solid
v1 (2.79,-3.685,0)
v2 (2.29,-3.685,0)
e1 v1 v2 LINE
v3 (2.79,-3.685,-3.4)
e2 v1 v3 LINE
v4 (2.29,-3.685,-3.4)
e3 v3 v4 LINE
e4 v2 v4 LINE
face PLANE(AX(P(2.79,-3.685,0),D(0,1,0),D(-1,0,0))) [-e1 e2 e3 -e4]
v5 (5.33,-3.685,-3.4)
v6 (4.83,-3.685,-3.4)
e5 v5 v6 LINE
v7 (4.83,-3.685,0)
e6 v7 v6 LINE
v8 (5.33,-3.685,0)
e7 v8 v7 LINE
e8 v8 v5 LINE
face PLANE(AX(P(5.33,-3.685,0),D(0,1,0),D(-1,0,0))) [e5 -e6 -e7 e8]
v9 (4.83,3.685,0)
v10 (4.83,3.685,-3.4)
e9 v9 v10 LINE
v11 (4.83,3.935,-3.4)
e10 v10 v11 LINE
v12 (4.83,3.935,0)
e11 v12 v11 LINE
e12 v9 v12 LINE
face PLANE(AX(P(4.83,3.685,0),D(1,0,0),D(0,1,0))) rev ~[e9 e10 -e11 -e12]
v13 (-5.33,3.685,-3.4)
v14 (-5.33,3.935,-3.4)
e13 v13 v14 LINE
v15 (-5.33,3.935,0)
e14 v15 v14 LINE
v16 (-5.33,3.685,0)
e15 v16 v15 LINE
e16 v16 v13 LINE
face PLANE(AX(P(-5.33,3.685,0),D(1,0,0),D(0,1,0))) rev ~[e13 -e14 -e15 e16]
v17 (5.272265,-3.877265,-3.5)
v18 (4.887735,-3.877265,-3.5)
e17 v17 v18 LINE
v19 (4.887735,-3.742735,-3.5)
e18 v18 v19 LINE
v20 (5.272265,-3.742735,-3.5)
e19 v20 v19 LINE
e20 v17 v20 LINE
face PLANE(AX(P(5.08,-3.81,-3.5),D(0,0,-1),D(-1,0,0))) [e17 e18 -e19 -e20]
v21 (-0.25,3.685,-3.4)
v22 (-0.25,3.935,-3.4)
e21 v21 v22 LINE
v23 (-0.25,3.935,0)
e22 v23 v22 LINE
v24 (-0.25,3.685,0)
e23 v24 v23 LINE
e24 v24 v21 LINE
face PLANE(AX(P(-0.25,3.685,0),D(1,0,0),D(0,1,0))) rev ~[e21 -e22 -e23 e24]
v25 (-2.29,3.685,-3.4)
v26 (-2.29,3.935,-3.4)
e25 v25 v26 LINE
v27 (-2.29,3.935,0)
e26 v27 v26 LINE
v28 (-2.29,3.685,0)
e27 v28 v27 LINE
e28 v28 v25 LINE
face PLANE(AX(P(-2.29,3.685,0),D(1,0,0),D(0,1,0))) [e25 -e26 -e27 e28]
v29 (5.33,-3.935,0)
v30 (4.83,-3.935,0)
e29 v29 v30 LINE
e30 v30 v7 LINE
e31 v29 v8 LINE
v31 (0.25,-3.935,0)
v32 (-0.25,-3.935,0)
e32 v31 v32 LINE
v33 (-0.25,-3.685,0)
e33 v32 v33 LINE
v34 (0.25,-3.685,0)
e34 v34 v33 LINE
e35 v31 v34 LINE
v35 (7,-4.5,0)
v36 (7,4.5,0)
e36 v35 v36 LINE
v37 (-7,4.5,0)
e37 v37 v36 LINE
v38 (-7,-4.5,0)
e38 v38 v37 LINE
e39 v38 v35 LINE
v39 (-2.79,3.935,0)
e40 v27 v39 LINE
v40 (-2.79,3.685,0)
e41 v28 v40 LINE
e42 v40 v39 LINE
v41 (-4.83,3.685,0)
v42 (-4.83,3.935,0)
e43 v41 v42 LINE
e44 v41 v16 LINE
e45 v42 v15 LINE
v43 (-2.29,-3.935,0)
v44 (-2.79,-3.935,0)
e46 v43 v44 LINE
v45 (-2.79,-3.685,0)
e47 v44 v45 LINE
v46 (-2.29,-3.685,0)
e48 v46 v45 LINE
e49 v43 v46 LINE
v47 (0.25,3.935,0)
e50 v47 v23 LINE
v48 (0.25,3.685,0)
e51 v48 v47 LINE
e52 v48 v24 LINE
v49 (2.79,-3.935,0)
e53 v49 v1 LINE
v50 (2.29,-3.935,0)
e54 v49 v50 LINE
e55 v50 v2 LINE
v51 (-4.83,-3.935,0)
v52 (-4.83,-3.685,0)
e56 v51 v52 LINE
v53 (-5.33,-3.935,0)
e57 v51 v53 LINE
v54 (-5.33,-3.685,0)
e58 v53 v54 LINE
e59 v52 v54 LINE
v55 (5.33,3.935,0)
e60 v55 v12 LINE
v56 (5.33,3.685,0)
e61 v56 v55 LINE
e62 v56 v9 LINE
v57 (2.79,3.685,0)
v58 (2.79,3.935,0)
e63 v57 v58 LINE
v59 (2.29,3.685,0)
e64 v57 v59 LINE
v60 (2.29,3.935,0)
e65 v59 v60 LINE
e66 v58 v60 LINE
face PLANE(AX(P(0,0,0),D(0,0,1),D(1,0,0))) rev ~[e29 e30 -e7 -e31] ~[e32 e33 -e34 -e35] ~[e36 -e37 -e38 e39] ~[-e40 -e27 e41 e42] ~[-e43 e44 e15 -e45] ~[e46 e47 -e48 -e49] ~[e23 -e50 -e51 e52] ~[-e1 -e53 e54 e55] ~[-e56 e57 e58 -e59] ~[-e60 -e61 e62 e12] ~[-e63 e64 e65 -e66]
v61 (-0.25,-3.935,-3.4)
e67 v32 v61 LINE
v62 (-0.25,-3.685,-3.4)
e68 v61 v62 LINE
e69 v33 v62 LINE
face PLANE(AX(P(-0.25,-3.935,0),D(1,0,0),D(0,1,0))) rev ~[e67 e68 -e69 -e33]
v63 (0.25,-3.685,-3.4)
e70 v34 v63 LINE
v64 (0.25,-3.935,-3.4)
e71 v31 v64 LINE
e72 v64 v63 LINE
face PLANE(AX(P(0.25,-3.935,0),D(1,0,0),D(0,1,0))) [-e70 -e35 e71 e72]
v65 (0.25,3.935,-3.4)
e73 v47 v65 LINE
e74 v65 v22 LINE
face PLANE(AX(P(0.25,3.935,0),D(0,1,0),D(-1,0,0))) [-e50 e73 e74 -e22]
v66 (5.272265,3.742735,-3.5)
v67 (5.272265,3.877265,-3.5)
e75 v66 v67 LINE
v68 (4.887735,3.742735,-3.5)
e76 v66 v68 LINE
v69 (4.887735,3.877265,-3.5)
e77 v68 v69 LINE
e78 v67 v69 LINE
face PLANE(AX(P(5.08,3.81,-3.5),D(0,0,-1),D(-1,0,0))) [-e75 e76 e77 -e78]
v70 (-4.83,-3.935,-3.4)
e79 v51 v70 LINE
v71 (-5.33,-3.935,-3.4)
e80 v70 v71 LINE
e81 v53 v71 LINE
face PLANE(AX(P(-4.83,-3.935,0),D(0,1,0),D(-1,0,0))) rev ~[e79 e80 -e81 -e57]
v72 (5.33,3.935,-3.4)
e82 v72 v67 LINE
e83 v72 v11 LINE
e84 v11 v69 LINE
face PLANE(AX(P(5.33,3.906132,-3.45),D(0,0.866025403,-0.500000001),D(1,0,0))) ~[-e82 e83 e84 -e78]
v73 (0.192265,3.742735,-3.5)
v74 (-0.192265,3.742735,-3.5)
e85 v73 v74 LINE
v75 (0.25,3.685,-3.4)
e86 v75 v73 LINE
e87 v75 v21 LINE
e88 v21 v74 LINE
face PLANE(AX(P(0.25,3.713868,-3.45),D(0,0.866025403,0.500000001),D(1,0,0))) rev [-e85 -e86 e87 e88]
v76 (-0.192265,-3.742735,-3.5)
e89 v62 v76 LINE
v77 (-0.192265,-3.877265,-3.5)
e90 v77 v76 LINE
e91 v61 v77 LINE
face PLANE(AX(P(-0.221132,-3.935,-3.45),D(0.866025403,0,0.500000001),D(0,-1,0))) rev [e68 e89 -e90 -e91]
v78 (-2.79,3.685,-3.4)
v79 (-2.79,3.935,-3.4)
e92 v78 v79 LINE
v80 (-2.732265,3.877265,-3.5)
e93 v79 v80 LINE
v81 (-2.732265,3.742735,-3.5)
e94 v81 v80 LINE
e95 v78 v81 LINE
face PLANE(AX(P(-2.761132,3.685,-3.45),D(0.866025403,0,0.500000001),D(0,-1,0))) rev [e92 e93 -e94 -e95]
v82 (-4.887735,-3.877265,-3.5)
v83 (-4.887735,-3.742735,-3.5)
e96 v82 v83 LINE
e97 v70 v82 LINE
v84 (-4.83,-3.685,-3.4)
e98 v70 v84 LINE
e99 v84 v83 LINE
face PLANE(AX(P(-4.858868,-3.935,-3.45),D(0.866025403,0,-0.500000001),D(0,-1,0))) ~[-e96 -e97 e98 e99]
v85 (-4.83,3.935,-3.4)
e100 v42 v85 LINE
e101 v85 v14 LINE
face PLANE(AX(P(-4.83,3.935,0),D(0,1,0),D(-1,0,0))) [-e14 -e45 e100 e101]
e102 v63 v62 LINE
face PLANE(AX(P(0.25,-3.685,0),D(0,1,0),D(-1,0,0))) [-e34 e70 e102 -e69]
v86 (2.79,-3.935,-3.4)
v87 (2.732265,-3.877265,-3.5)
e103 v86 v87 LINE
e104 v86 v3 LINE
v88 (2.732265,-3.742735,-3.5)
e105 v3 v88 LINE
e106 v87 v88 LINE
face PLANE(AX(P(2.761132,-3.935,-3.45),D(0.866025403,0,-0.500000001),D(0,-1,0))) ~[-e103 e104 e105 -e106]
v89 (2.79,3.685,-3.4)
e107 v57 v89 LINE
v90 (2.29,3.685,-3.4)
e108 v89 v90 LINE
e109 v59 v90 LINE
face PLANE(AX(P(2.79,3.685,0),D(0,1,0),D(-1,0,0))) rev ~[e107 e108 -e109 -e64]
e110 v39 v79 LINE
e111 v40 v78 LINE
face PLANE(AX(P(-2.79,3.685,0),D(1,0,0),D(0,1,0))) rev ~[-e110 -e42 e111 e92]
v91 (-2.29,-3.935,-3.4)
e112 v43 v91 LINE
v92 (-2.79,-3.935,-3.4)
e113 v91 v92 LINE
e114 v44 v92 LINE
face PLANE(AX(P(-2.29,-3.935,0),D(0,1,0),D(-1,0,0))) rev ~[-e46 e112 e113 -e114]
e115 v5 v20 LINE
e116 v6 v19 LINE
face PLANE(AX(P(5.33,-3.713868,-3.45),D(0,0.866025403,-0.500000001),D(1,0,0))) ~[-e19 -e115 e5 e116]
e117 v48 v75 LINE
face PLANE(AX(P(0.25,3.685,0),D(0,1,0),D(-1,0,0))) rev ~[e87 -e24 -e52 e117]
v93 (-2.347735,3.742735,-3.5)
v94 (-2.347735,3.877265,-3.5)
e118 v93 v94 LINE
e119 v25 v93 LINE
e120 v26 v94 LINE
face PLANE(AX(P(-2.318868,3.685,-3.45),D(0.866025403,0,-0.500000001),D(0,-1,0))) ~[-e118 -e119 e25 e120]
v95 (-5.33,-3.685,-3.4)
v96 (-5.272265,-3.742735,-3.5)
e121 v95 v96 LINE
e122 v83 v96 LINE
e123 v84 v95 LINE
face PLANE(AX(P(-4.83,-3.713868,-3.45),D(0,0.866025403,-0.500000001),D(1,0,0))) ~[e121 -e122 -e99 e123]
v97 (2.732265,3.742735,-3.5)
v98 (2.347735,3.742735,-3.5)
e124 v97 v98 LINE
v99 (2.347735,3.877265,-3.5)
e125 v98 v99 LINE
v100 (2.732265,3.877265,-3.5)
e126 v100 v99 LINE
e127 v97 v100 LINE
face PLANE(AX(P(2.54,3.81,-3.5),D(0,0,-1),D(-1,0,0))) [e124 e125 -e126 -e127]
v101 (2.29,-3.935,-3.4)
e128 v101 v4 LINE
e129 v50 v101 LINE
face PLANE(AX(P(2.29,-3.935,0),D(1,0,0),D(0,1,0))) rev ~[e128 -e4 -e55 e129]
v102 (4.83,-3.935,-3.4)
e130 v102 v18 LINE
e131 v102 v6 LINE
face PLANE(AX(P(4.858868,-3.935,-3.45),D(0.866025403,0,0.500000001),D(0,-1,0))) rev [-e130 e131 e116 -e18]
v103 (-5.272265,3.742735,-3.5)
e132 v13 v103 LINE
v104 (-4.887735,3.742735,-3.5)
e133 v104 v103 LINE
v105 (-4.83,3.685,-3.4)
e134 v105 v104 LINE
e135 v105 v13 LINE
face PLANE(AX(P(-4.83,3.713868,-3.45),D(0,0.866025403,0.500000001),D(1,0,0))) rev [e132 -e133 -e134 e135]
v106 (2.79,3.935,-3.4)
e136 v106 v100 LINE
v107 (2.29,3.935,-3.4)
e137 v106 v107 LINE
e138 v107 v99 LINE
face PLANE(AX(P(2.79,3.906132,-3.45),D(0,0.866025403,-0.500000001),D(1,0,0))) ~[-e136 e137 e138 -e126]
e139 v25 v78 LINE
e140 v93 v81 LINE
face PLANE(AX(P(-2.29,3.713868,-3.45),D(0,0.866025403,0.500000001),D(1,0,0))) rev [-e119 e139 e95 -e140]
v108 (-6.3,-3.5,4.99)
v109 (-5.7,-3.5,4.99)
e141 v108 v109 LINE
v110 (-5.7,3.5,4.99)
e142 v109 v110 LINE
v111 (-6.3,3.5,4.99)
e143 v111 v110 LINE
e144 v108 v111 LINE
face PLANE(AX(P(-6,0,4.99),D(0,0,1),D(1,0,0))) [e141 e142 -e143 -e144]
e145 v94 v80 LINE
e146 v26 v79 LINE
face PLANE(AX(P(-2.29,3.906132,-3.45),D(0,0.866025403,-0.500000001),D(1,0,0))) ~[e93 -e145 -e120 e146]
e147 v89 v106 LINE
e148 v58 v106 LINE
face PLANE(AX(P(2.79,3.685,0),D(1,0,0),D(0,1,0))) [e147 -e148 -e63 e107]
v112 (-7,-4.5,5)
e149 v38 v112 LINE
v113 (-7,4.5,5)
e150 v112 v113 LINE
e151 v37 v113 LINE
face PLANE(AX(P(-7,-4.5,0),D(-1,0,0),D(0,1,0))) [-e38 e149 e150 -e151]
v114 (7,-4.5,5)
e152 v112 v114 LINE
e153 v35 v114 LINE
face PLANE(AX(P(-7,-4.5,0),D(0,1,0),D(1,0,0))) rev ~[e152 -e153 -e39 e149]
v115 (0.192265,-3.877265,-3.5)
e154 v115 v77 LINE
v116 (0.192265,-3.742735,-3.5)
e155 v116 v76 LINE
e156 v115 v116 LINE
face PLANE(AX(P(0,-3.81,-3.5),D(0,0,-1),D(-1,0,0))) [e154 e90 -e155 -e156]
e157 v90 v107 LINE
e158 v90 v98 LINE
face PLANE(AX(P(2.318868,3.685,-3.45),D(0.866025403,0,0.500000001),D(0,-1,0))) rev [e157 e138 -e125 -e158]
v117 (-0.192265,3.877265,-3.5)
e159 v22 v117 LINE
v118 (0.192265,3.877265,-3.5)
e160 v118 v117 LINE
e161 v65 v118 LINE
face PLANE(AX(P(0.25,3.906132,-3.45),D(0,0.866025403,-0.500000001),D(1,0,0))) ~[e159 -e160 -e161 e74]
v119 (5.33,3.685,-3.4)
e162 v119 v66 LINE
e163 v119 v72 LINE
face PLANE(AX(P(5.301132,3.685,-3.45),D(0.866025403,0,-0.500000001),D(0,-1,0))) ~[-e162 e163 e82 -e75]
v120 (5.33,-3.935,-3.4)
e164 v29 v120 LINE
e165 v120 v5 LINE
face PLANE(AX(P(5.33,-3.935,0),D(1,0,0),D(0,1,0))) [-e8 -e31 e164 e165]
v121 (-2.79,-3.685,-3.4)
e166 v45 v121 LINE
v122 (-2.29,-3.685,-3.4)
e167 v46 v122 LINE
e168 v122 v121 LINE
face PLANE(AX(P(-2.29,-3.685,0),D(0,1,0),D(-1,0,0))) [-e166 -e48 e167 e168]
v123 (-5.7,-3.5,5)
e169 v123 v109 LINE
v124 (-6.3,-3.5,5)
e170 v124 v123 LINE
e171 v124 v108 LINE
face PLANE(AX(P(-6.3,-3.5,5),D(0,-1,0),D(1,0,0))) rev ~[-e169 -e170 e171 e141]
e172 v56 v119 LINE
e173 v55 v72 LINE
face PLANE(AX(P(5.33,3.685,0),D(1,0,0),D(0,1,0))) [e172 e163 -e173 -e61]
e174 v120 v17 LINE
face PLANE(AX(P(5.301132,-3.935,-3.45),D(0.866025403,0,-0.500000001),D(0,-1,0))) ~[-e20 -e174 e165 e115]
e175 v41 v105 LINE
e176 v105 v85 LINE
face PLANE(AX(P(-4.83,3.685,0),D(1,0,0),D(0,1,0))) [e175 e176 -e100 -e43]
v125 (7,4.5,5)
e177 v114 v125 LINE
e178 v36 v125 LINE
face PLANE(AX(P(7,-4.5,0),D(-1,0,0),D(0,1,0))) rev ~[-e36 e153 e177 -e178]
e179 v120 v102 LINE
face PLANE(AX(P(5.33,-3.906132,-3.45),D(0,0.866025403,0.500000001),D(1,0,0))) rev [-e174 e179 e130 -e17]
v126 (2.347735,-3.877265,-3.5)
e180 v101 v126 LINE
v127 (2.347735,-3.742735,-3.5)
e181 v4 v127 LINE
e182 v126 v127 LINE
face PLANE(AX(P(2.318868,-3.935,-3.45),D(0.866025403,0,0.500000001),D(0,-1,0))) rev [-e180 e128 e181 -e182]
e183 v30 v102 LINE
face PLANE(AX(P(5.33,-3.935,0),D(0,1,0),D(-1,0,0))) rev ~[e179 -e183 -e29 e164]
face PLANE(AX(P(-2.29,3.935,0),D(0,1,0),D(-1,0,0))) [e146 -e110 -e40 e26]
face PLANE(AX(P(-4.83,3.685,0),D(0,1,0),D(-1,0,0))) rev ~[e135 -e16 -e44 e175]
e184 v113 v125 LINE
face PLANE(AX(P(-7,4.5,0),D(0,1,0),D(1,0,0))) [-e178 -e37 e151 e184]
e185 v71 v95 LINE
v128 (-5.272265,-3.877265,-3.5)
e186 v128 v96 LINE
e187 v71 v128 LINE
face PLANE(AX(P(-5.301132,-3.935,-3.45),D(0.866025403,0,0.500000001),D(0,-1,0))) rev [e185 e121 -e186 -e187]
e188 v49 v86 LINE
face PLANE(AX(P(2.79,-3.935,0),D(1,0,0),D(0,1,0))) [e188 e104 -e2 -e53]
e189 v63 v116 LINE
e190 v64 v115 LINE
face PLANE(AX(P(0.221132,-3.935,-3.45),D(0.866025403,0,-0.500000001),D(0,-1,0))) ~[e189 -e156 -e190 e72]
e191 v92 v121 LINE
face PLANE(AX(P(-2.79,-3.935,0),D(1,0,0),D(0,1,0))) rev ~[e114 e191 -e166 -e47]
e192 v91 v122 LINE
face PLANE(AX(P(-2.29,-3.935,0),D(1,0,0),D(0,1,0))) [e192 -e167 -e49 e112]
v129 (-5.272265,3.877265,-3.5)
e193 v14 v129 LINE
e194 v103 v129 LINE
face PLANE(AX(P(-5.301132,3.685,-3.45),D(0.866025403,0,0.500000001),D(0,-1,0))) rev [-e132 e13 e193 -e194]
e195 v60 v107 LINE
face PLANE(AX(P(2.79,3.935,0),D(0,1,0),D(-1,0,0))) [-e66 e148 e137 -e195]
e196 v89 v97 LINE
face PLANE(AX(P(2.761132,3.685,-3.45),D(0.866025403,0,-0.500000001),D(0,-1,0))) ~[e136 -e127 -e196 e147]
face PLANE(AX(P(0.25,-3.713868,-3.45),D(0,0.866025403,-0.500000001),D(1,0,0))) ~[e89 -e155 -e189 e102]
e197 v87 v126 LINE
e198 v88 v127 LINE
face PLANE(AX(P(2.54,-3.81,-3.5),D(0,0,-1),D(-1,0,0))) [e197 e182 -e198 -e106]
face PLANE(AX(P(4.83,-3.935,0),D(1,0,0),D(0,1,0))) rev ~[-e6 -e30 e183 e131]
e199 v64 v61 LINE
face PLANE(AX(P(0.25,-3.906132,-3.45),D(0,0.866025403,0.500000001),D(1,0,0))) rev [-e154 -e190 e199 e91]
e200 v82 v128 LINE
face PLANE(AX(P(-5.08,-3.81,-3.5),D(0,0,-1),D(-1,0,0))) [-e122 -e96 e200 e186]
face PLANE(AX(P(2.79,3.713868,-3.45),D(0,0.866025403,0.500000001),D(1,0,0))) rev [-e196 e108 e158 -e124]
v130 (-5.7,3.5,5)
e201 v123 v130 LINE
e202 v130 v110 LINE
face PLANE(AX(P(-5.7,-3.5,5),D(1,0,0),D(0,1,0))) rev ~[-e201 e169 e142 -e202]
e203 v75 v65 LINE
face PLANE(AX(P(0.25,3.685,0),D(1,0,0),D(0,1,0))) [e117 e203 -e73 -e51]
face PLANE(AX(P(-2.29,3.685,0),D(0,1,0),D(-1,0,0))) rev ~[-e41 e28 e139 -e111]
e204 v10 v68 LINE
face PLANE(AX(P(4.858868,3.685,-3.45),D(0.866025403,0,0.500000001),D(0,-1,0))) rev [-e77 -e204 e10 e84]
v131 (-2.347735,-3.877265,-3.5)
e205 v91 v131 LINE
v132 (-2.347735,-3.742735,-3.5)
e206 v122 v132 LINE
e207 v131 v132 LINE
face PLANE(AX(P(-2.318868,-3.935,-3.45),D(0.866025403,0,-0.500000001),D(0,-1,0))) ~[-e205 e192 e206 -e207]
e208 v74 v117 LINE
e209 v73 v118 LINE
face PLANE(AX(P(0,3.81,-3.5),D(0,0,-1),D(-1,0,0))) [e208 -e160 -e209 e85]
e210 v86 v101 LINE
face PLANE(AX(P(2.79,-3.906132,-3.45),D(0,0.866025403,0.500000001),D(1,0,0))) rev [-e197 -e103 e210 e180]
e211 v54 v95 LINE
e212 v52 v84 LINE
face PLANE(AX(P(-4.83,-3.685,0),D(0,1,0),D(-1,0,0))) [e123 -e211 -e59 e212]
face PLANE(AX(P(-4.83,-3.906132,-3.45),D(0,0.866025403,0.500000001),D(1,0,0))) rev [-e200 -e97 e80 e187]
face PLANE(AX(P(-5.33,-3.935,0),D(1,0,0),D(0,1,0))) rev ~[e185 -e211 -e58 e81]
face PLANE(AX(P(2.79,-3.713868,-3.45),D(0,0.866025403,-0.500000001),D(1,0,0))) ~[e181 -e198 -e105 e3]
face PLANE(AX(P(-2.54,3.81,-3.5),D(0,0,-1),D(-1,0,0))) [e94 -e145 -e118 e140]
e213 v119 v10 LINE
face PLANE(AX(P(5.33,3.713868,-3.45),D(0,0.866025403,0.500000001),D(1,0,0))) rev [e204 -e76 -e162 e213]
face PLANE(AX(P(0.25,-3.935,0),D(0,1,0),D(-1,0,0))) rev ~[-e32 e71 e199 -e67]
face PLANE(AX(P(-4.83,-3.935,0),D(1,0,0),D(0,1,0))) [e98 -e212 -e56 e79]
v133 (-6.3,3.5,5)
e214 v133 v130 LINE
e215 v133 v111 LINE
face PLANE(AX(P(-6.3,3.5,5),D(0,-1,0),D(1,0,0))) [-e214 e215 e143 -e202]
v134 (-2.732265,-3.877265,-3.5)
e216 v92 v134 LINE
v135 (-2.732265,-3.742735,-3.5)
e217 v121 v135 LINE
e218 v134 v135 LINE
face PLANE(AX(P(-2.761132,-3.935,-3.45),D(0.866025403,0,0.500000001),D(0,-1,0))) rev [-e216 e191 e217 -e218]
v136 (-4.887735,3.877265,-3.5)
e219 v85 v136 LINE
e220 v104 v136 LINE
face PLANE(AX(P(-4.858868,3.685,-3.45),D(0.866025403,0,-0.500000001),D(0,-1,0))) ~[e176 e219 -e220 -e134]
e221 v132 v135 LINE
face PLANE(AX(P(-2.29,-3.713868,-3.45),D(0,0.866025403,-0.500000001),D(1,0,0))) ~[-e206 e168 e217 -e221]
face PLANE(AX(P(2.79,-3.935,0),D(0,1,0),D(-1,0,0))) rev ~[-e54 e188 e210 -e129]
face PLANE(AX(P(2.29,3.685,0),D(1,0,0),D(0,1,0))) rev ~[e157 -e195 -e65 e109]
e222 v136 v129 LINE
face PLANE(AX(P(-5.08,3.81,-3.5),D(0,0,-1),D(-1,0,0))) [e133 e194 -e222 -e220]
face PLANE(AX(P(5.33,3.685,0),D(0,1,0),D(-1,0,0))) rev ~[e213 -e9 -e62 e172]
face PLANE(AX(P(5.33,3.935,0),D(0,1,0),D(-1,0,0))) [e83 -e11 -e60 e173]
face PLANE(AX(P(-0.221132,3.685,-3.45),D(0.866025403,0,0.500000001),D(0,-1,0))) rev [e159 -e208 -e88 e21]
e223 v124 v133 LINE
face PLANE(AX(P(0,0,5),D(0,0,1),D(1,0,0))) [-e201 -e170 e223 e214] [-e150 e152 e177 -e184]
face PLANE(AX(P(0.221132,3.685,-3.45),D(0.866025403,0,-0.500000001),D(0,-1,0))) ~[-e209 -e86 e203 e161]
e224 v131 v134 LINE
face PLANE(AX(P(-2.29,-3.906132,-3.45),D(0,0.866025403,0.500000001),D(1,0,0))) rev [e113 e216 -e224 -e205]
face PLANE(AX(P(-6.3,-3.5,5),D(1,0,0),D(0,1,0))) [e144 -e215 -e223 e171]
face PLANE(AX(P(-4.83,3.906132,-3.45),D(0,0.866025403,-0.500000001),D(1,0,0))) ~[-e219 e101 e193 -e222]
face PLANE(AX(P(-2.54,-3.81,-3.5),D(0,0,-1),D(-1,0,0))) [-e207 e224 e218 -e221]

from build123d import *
from OCP.BRepFilletAPI import BRepFilletAPI_MakeChamfer

# Parameters (mm, degrees)
SKETCH_1_W                          = 14
SKETCH_1_H                          = 9
EXTRUDE_1_DEPTH                     = 5
SKETCH_3_W                          = 0.6
SKETCH_3_H                          = 7
CUT_EXTRUDE_1_DEPTH                 = 0.01
SKETCH_4_W                          = 0.5
SKETCH_4_H                          = 0.25
EXTRUDE_2_DEPTH                     = 3.5
CHAMFER_1_SIZE                      = 0.1
CHAMFER_1_SIZE2                     = 0.057735027
PATTERN_LINEAR_1_COUNT              = 5
PATTERN_LINEAR_1_PITCH              = 2.54
PATTERN_LINEAR_1_COUNT_DIR2         = 2
PATTERN_LINEAR_1_PITCH_DIR2         = 7.62
CHAMFER_1_OF_PATTERN_LINEAR_1_SIZE  = 0.1
CHAMFER_1_OF_PATTERN_LINEAR_1_SIZE2 = 0.057735027


with BuildPart() as part:
    # Эскиз1 → Бобышка-Вытянуть1 (new body)
    with BuildSketch(Plane.XY):
        Rectangle(SKETCH_1_W, SKETCH_1_H)
    extrude(amount=EXTRUDE_1_DEPTH)

    # Эскиз3 → Вырез-Вытянуть1 (cut)
    with BuildSketch(Plane.XY.offset(5)):
        with Locations((-6, 0)):
            Rectangle(SKETCH_3_W, SKETCH_3_H)
    extrude(amount=-CUT_EXTRUDE_1_DEPTH, mode=Mode.SUBTRACT)

    # Эскиз4 → Бобышка-Вытянуть2 (add)
    with BuildSketch(Plane(origin=(0, 0, 0), x_dir=(-1, 0, 0), z_dir=(0, 0, -1))):
        with Locations((5.08, -3.81)):
            Rectangle(SKETCH_4_W, SKETCH_4_H)
    extrude_2 = extrude(amount=EXTRUDE_2_DEPTH)

    # Фаска1: one chamfer whose edges measure the first distance from different faces: ONE call of the kernel's chamfer builder (chamfer() names one face for all edges)
    chamfer_1_edges_1 = [part.edges().sort_by_distance(p)[0] for p in [
        (-4.83, -3.81, -3.5),
    ]]
    chamfer_1_side_1 = [part.faces().sort_by_distance(p)[0] for p in [
        (-4.83, -3.81, -1.75),
    ]]
    chamfer_1_edges_2 = [part.edges().sort_by_distance(p)[0] for p in [
        (-5.08, -3.935, -3.5),
    ]]
    chamfer_1_side_2 = [part.faces().sort_by_distance(p)[0] for p in [
        (-5.08, -3.935, -1.75),
    ]]
    chamfer_1_edges_3 = [part.edges().sort_by_distance(p)[0] for p in [
        (-5.33, -3.81, -3.5),
    ]]
    chamfer_1_side_3 = [part.faces().sort_by_distance(p)[0] for p in [
        (-5.33, -3.81, -1.75),
    ]]
    chamfer_1_edges_4 = [part.edges().sort_by_distance(p)[0] for p in [
        (-5.08, -3.685, -3.5),
    ]]
    chamfer_1_side_4 = [part.faces().sort_by_distance(p)[0] for p in [
        (-5.08, -3.685, -1.75),
    ]]
    chamfer_1 = BRepFilletAPI_MakeChamfer(part.part.solid().wrapped)
    for e in chamfer_1_edges_1:
        chamfer_1.Add(CHAMFER_1_SIZE, CHAMFER_1_SIZE2, e.wrapped, chamfer_1_side_1[0].wrapped)  # the first distance lies on this face
    for e in chamfer_1_edges_2:
        chamfer_1.Add(CHAMFER_1_SIZE, CHAMFER_1_SIZE2, e.wrapped, chamfer_1_side_2[0].wrapped)  # the first distance lies on this face
    for e in chamfer_1_edges_3:
        chamfer_1.Add(CHAMFER_1_SIZE, CHAMFER_1_SIZE2, e.wrapped, chamfer_1_side_3[0].wrapped)  # the first distance lies on this face
    for e in chamfer_1_edges_4:
        chamfer_1.Add(CHAMFER_1_SIZE, CHAMFER_1_SIZE2, e.wrapped, chamfer_1_side_4[0].wrapped)  # the first distance lies on this face
    add(Compound.cast(chamfer_1.Shape()), mode=Mode.REPLACE)

    # Линейный массив1: Extrude 2 5 × 2
    with Locations(*[(i * PATTERN_LINEAR_1_PITCH, j * PATTERN_LINEAR_1_PITCH_DIR2, 0) for i in range(PATTERN_LINEAR_1_COUNT) for j in range(PATTERN_LINEAR_1_COUNT_DIR2) if (i, j) != (0, 0)]):
        add(extrude_2)

    # Фаска1 of Линейный массив1: one chamfer whose edges measure the first distance from different faces: ONE call of the kernel's chamfer builder (chamfer() names one face for all edges)
    chamfer_1_of_pattern_linear_1_edges_1 = [part.edges().sort_by_distance(p)[0] for p in [
        (-4.83, 3.81, -3.5),
    ]]
    chamfer_1_of_pattern_linear_1_side_1 = [part.faces().sort_by_distance(p)[0] for p in [
        (-4.83, 3.81, -1.75),
    ]]
    chamfer_1_of_pattern_linear_1_edges_2 = [part.edges().sort_by_distance(p)[0] for p in [
        (-5.08, 3.685, -3.5),
    ]]
    chamfer_1_of_pattern_linear_1_side_2 = [part.faces().sort_by_distance(p)[0] for p in [
        (-5.08, 3.685, -1.75),
    ]]
    chamfer_1_of_pattern_linear_1_edges_3 = [part.edges().sort_by_distance(p)[0] for p in [
        (-5.33, 3.81, -3.5),
    ]]
    chamfer_1_of_pattern_linear_1_side_3 = [part.faces().sort_by_distance(p)[0] for p in [
        (-5.33, 3.81, -1.75),
    ]]
    chamfer_1_of_pattern_linear_1_edges_4 = [part.edges().sort_by_distance(p)[0] for p in [
        (-5.08, 3.935, -3.5),
    ]]
    chamfer_1_of_pattern_linear_1_side_4 = [part.faces().sort_by_distance(p)[0] for p in [
        (-5.08, 3.935, -1.75),
    ]]
    chamfer_1_of_pattern_linear_1_edges_5 = [part.edges().sort_by_distance(p)[0] for p in [
        (-2.29, -3.81, -3.5),
    ]]
    chamfer_1_of_pattern_linear_1_side_5 = [part.faces().sort_by_distance(p)[0] for p in [
        (-2.29, -3.81, -1.75),
    ]]
    chamfer_1_of_pattern_linear_1_edges_6 = [part.edges().sort_by_distance(p)[0] for p in [
        (-2.54, -3.935, -3.5),
    ]]
    chamfer_1_of_pattern_linear_1_side_6 = [part.faces().sort_by_distance(p)[0] for p in [
        (-2.54, -3.935, -1.75),
    ]]
    chamfer_1_of_pattern_linear_1_edges_7 = [part.edges().sort_by_distance(p)[0] for p in [
        (-2.79, -3.81, -3.5),
    ]]
    chamfer_1_of_pattern_linear_1_side_7 = [part.faces().sort_by_distance(p)[0] for p in [
        (-2.79, -3.81, -1.75),
    ]]
    chamfer_1_of_pattern_linear_1_edges_8 = [part.edges().sort_by_distance(p)[0] for p in [
        (-2.54, -3.685, -3.5),
    ]]
    chamfer_1_of_pattern_linear_1_side_8 = [part.faces().sort_by_distance(p)[0] for p in [
        (-2.54, -3.685, -1.75),
    ]]
    chamfer_1_of_pattern_linear_1_edges_9 = [part.edges().sort_by_distance(p)[0] for p in [
        (-2.29, 3.81, -3.5),
    ]]
    chamfer_1_of_pattern_linear_1_side_9 = [part.faces().sort_by_distance(p)[0] for p in [
        (-2.29, 3.81, -1.75),
    ]]
    chamfer_1_of_pattern_linear_1_edges_10 = [part.edges().sort_by_distance(p)[0] for p in [
        (-2.54, 3.685, -3.5),
    ]]
    chamfer_1_of_pattern_linear_1_side_10 = [part.faces().sort_by_distance(p)[0] for p in [
        (-2.54, 3.685, -1.75),
    ]]
    chamfer_1_of_pattern_linear_1_edges_11 = [part.edges().sort_by_distance(p)[0] for p in [
        (-2.79, 3.81, -3.5),
    ]]
    chamfer_1_of_pattern_linear_1_side_11 = [part.faces().sort_by_distance(p)[0] for p in [
        (-2.79, 3.81, -1.75),
    ]]
    chamfer_1_of_pattern_linear_1_edges_12 = [part.edges().sort_by_distance(p)[0] for p in [
        (-2.54, 3.935, -3.5),
    ]]
    chamfer_1_of_pattern_linear_1_side_12 = [part.faces().sort_by_distance(p)[0] for p in [
        (-2.54, 3.935, -1.75),
    ]]
    chamfer_1_of_pattern_linear_1_edges_13 = [part.edges().sort_by_distance(p)[0] for p in [
        (0.25, -3.81, -3.5),
    ]]
    chamfer_1_of_pattern_linear_1_side_13 = [part.faces().sort_by_distance(p)[0] for p in [
        (0.25, -3.81, -1.75),
    ]]
    chamfer_1_of_pattern_linear_1_edges_14 = [part.edges().sort_by_distance(p)[0] for p in [
        (0, -3.935, -3.5),
    ]]
    chamfer_1_of_pattern_linear_1_side_14 = [part.faces().sort_by_distance(p)[0] for p in [
        (0, -3.935, -1.75),
    ]]
    chamfer_1_of_pattern_linear_1_edges_15 = [part.edges().sort_by_distance(p)[0] for p in [
        (-0.25, -3.81, -3.5),
    ]]
    chamfer_1_of_pattern_linear_1_side_15 = [part.faces().sort_by_distance(p)[0] for p in [
        (-0.25, -3.81, -1.75),
    ]]
    chamfer_1_of_pattern_linear_1_edges_16 = [part.edges().sort_by_distance(p)[0] for p in [
        (0, -3.685, -3.5),
    ]]
    chamfer_1_of_pattern_linear_1_side_16 = [part.faces().sort_by_distance(p)[0] for p in [
        (0, -3.685, -1.75),
    ]]
    chamfer_1_of_pattern_linear_1_edges_17 = [part.edges().sort_by_distance(p)[0] for p in [
        (0.25, 3.81, -3.5),
    ]]
    chamfer_1_of_pattern_linear_1_side_17 = [part.faces().sort_by_distance(p)[0] for p in [
        (0.25, 3.81, -1.75),
    ]]
    chamfer_1_of_pattern_linear_1_edges_18 = [part.edges().sort_by_distance(p)[0] for p in [
        (0, 3.685, -3.5),
    ]]
    chamfer_1_of_pattern_linear_1_side_18 = [part.faces().sort_by_distance(p)[0] for p in [
        (0, 3.685, -1.75),
    ]]
    chamfer_1_of_pattern_linear_1_edges_19 = [part.edges().sort_by_distance(p)[0] for p in [
        (-0.25, 3.81, -3.5),
    ]]
    chamfer_1_of_pattern_linear_1_side_19 = [part.faces().sort_by_distance(p)[0] for p in [
        (-0.25, 3.81, -1.75),
    ]]
    chamfer_1_of_pattern_linear_1_edges_20 = [part.edges().sort_by_distance(p)[0] for p in [
        (0, 3.935, -3.5),
    ]]
    chamfer_1_of_pattern_linear_1_side_20 = [part.faces().sort_by_distance(p)[0] for p in [
        (0, 3.935, -1.75),
    ]]
    chamfer_1_of_pattern_linear_1_edges_21 = [part.edges().sort_by_distance(p)[0] for p in [
        (2.79, -3.81, -3.5),
    ]]
    chamfer_1_of_pattern_linear_1_side_21 = [part.faces().sort_by_distance(p)[0] for p in [
        (2.79, -3.81, -1.75),
    ]]
    chamfer_1_of_pattern_linear_1_edges_22 = [part.edges().sort_by_distance(p)[0] for p in [
        (2.54, -3.935, -3.5),
    ]]
    chamfer_1_of_pattern_linear_1_side_22 = [part.faces().sort_by_distance(p)[0] for p in [
        (2.54, -3.935, -1.75),
    ]]
    chamfer_1_of_pattern_linear_1_edges_23 = [part.edges().sort_by_distance(p)[0] for p in [
        (2.29, -3.81, -3.5),
    ]]
    chamfer_1_of_pattern_linear_1_side_23 = [part.faces().sort_by_distance(p)[0] for p in [
        (2.29, -3.81, -1.75),
    ]]
    chamfer_1_of_pattern_linear_1_edges_24 = [part.edges().sort_by_distance(p)[0] for p in [
        (2.54, -3.685, -3.5),
    ]]
    chamfer_1_of_pattern_linear_1_side_24 = [part.faces().sort_by_distance(p)[0] for p in [
        (2.54, -3.685, -1.75),
    ]]
    chamfer_1_of_pattern_linear_1_edges_25 = [part.edges().sort_by_distance(p)[0] for p in [
        (2.79, 3.81, -3.5),
    ]]
    chamfer_1_of_pattern_linear_1_side_25 = [part.faces().sort_by_distance(p)[0] for p in [
        (2.79, 3.81, -1.75),
    ]]
    chamfer_1_of_pattern_linear_1_edges_26 = [part.edges().sort_by_distance(p)[0] for p in [
        (2.54, 3.685, -3.5),
    ]]
    chamfer_1_of_pattern_linear_1_side_26 = [part.faces().sort_by_distance(p)[0] for p in [
        (2.54, 3.685, -1.75),
    ]]
    chamfer_1_of_pattern_linear_1_edges_27 = [part.edges().sort_by_distance(p)[0] for p in [
        (2.29, 3.81, -3.5),
    ]]
    chamfer_1_of_pattern_linear_1_side_27 = [part.faces().sort_by_distance(p)[0] for p in [
        (2.29, 3.81, -1.75),
    ]]
    chamfer_1_of_pattern_linear_1_edges_28 = [part.edges().sort_by_distance(p)[0] for p in [
        (2.54, 3.935, -3.5),
    ]]
    chamfer_1_of_pattern_linear_1_side_28 = [part.faces().sort_by_distance(p)[0] for p in [
        (2.54, 3.935, -1.75),
    ]]
    chamfer_1_of_pattern_linear_1_edges_29 = [part.edges().sort_by_distance(p)[0] for p in [
        (5.33, -3.81, -3.5),
    ]]
    chamfer_1_of_pattern_linear_1_side_29 = [part.faces().sort_by_distance(p)[0] for p in [
        (5.33, -3.81, -1.75),
    ]]
    chamfer_1_of_pattern_linear_1_edges_30 = [part.edges().sort_by_distance(p)[0] for p in [
        (5.08, -3.935, -3.5),
    ]]
    chamfer_1_of_pattern_linear_1_side_30 = [part.faces().sort_by_distance(p)[0] for p in [
        (5.08, -3.935, -1.75),
    ]]
    chamfer_1_of_pattern_linear_1_edges_31 = [part.edges().sort_by_distance(p)[0] for p in [
        (4.83, -3.81, -3.5),
    ]]
    chamfer_1_of_pattern_linear_1_side_31 = [part.faces().sort_by_distance(p)[0] for p in [
        (4.83, -3.81, -1.75),
    ]]
    chamfer_1_of_pattern_linear_1_edges_32 = [part.edges().sort_by_distance(p)[0] for p in [
        (5.08, -3.685, -3.5),
    ]]
    chamfer_1_of_pattern_linear_1_side_32 = [part.faces().sort_by_distance(p)[0] for p in [
        (5.08, -3.685, -1.75),
    ]]
    chamfer_1_of_pattern_linear_1_edges_33 = [part.edges().sort_by_distance(p)[0] for p in [
        (5.33, 3.81, -3.5),
    ]]
    chamfer_1_of_pattern_linear_1_side_33 = [part.faces().sort_by_distance(p)[0] for p in [
        (5.33, 3.81, -1.75),
    ]]
    chamfer_1_of_pattern_linear_1_edges_34 = [part.edges().sort_by_distance(p)[0] for p in [
        (5.08, 3.685, -3.5),
    ]]
    chamfer_1_of_pattern_linear_1_side_34 = [part.faces().sort_by_distance(p)[0] for p in [
        (5.08, 3.685, -1.75),
    ]]
    chamfer_1_of_pattern_linear_1_edges_35 = [part.edges().sort_by_distance(p)[0] for p in [
        (4.83, 3.81, -3.5),
    ]]
    chamfer_1_of_pattern_linear_1_side_35 = [part.faces().sort_by_distance(p)[0] for p in [
        (4.83, 3.81, -1.75),
    ]]
    chamfer_1_of_pattern_linear_1_edges_36 = [part.edges().sort_by_distance(p)[0] for p in [
        (5.08, 3.935, -3.5),
    ]]
    chamfer_1_of_pattern_linear_1_side_36 = [part.faces().sort_by_distance(p)[0] for p in [
        (5.08, 3.935, -1.75),
    ]]
    chamfer_1_of_pattern_linear_1 = BRepFilletAPI_MakeChamfer(part.part.solid().wrapped)
    for e in chamfer_1_of_pattern_linear_1_edges_1:
        chamfer_1_of_pattern_linear_1.Add(CHAMFER_1_OF_PATTERN_LINEAR_1_SIZE, CHAMFER_1_OF_PATTERN_LINEAR_1_SIZE2, e.wrapped, chamfer_1_of_pattern_linear_1_side_1[0].wrapped)  # the first distance lies on this face
    for e in chamfer_1_of_pattern_linear_1_edges_2:
        chamfer_1_of_pattern_linear_1.Add(CHAMFER_1_OF_PATTERN_LINEAR_1_SIZE, CHAMFER_1_OF_PATTERN_LINEAR_1_SIZE2, e.wrapped, chamfer_1_of_pattern_linear_1_side_2[0].wrapped)  # the first distance lies on this face
    for e in chamfer_1_of_pattern_linear_1_edges_3:
        chamfer_1_of_pattern_linear_1.Add(CHAMFER_1_OF_PATTERN_LINEAR_1_SIZE, CHAMFER_1_OF_PATTERN_LINEAR_1_SIZE2, e.wrapped, chamfer_1_of_pattern_linear_1_side_3[0].wrapped)  # the first distance lies on this face
    for e in chamfer_1_of_pattern_linear_1_edges_4:
        chamfer_1_of_pattern_linear_1.Add(CHAMFER_1_OF_PATTERN_LINEAR_1_SIZE, CHAMFER_1_OF_PATTERN_LINEAR_1_SIZE2, e.wrapped, chamfer_1_of_pattern_linear_1_side_4[0].wrapped)  # the first distance lies on this face
    for e in chamfer_1_of_pattern_linear_1_edges_5:
        chamfer_1_of_pattern_linear_1.Add(CHAMFER_1_OF_PATTERN_LINEAR_1_SIZE, CHAMFER_1_OF_PATTERN_LINEAR_1_SIZE2, e.wrapped, chamfer_1_of_pattern_linear_1_side_5[0].wrapped)  # the first distance lies on this face
    for e in chamfer_1_of_pattern_linear_1_edges_6:
        chamfer_1_of_pattern_linear_1.Add(CHAMFER_1_OF_PATTERN_LINEAR_1_SIZE, CHAMFER_1_OF_PATTERN_LINEAR_1_SIZE2, e.wrapped, chamfer_1_of_pattern_linear_1_side_6[0].wrapped)  # the first distance lies on this face
    for e in chamfer_1_of_pattern_linear_1_edges_7:
        chamfer_1_of_pattern_linear_1.Add(CHAMFER_1_OF_PATTERN_LINEAR_1_SIZE, CHAMFER_1_OF_PATTERN_LINEAR_1_SIZE2, e.wrapped, chamfer_1_of_pattern_linear_1_side_7[0].wrapped)  # the first distance lies on this face
    for e in chamfer_1_of_pattern_linear_1_edges_8:
        chamfer_1_of_pattern_linear_1.Add(CHAMFER_1_OF_PATTERN_LINEAR_1_SIZE, CHAMFER_1_OF_PATTERN_LINEAR_1_SIZE2, e.wrapped, chamfer_1_of_pattern_linear_1_side_8[0].wrapped)  # the first distance lies on this face
    for e in chamfer_1_of_pattern_linear_1_edges_9:
        chamfer_1_of_pattern_linear_1.Add(CHAMFER_1_OF_PATTERN_LINEAR_1_SIZE, CHAMFER_1_OF_PATTERN_LINEAR_1_SIZE2, e.wrapped, chamfer_1_of_pattern_linear_1_side_9[0].wrapped)  # the first distance lies on this face
    for e in chamfer_1_of_pattern_linear_1_edges_10:
        chamfer_1_of_pattern_linear_1.Add(CHAMFER_1_OF_PATTERN_LINEAR_1_SIZE, CHAMFER_1_OF_PATTERN_LINEAR_1_SIZE2, e.wrapped, chamfer_1_of_pattern_linear_1_side_10[0].wrapped)  # the first distance lies on this face
    for e in chamfer_1_of_pattern_linear_1_edges_11:
        chamfer_1_of_pattern_linear_1.Add(CHAMFER_1_OF_PATTERN_LINEAR_1_SIZE, CHAMFER_1_OF_PATTERN_LINEAR_1_SIZE2, e.wrapped, chamfer_1_of_pattern_linear_1_side_11[0].wrapped)  # the first distance lies on this face
    for e in chamfer_1_of_pattern_linear_1_edges_12:
        chamfer_1_of_pattern_linear_1.Add(CHAMFER_1_OF_PATTERN_LINEAR_1_SIZE, CHAMFER_1_OF_PATTERN_LINEAR_1_SIZE2, e.wrapped, chamfer_1_of_pattern_linear_1_side_12[0].wrapped)  # the first distance lies on this face
    for e in chamfer_1_of_pattern_linear_1_edges_13:
        chamfer_1_of_pattern_linear_1.Add(CHAMFER_1_OF_PATTERN_LINEAR_1_SIZE, CHAMFER_1_OF_PATTERN_LINEAR_1_SIZE2, e.wrapped, chamfer_1_of_pattern_linear_1_side_13[0].wrapped)  # the first distance lies on this face
    for e in chamfer_1_of_pattern_linear_1_edges_14:
        chamfer_1_of_pattern_linear_1.Add(CHAMFER_1_OF_PATTERN_LINEAR_1_SIZE, CHAMFER_1_OF_PATTERN_LINEAR_1_SIZE2, e.wrapped, chamfer_1_of_pattern_linear_1_side_14[0].wrapped)  # the first distance lies on this face
    for e in chamfer_1_of_pattern_linear_1_edges_15:
        chamfer_1_of_pattern_linear_1.Add(CHAMFER_1_OF_PATTERN_LINEAR_1_SIZE, CHAMFER_1_OF_PATTERN_LINEAR_1_SIZE2, e.wrapped, chamfer_1_of_pattern_linear_1_side_15[0].wrapped)  # the first distance lies on this face
    for e in chamfer_1_of_pattern_linear_1_edges_16:
        chamfer_1_of_pattern_linear_1.Add(CHAMFER_1_OF_PATTERN_LINEAR_1_SIZE, CHAMFER_1_OF_PATTERN_LINEAR_1_SIZE2, e.wrapped, chamfer_1_of_pattern_linear_1_side_16[0].wrapped)  # the first distance lies on this face
    for e in chamfer_1_of_pattern_linear_1_edges_17:
        chamfer_1_of_pattern_linear_1.Add(CHAMFER_1_OF_PATTERN_LINEAR_1_SIZE, CHAMFER_1_OF_PATTERN_LINEAR_1_SIZE2, e.wrapped, chamfer_1_of_pattern_linear_1_side_17[0].wrapped)  # the first distance lies on this face
    for e in chamfer_1_of_pattern_linear_1_edges_18:
        chamfer_1_of_pattern_linear_1.Add(CHAMFER_1_OF_PATTERN_LINEAR_1_SIZE, CHAMFER_1_OF_PATTERN_LINEAR_1_SIZE2, e.wrapped, chamfer_1_of_pattern_linear_1_side_18[0].wrapped)  # the first distance lies on this face
    for e in chamfer_1_of_pattern_linear_1_edges_19:
        chamfer_1_of_pattern_linear_1.Add(CHAMFER_1_OF_PATTERN_LINEAR_1_SIZE, CHAMFER_1_OF_PATTERN_LINEAR_1_SIZE2, e.wrapped, chamfer_1_of_pattern_linear_1_side_19[0].wrapped)  # the first distance lies on this face
    for e in chamfer_1_of_pattern_linear_1_edges_20:
        chamfer_1_of_pattern_linear_1.Add(CHAMFER_1_OF_PATTERN_LINEAR_1_SIZE, CHAMFER_1_OF_PATTERN_LINEAR_1_SIZE2, e.wrapped, chamfer_1_of_pattern_linear_1_side_20[0].wrapped)  # the first distance lies on this face
    for e in chamfer_1_of_pattern_linear_1_edges_21:
        chamfer_1_of_pattern_linear_1.Add(CHAMFER_1_OF_PATTERN_LINEAR_1_SIZE, CHAMFER_1_OF_PATTERN_LINEAR_1_SIZE2, e.wrapped, chamfer_1_of_pattern_linear_1_side_21[0].wrapped)  # the first distance lies on this face
    for e in chamfer_1_of_pattern_linear_1_edges_22:
        chamfer_1_of_pattern_linear_1.Add(CHAMFER_1_OF_PATTERN_LINEAR_1_SIZE, CHAMFER_1_OF_PATTERN_LINEAR_1_SIZE2, e.wrapped, chamfer_1_of_pattern_linear_1_side_22[0].wrapped)  # the first distance lies on this face
    for e in chamfer_1_of_pattern_linear_1_edges_23:
        chamfer_1_of_pattern_linear_1.Add(CHAMFER_1_OF_PATTERN_LINEAR_1_SIZE, CHAMFER_1_OF_PATTERN_LINEAR_1_SIZE2, e.wrapped, chamfer_1_of_pattern_linear_1_side_23[0].wrapped)  # the first distance lies on this face
    for e in chamfer_1_of_pattern_linear_1_edges_24:
        chamfer_1_of_pattern_linear_1.Add(CHAMFER_1_OF_PATTERN_LINEAR_1_SIZE, CHAMFER_1_OF_PATTERN_LINEAR_1_SIZE2, e.wrapped, chamfer_1_of_pattern_linear_1_side_24[0].wrapped)  # the first distance lies on this face
    for e in chamfer_1_of_pattern_linear_1_edges_25:
        chamfer_1_of_pattern_linear_1.Add(CHAMFER_1_OF_PATTERN_LINEAR_1_SIZE, CHAMFER_1_OF_PATTERN_LINEAR_1_SIZE2, e.wrapped, chamfer_1_of_pattern_linear_1_side_25[0].wrapped)  # the first distance lies on this face
    for e in chamfer_1_of_pattern_linear_1_edges_26:
        chamfer_1_of_pattern_linear_1.Add(CHAMFER_1_OF_PATTERN_LINEAR_1_SIZE, CHAMFER_1_OF_PATTERN_LINEAR_1_SIZE2, e.wrapped, chamfer_1_of_pattern_linear_1_side_26[0].wrapped)  # the first distance lies on this face
    for e in chamfer_1_of_pattern_linear_1_edges_27:
        chamfer_1_of_pattern_linear_1.Add(CHAMFER_1_OF_PATTERN_LINEAR_1_SIZE, CHAMFER_1_OF_PATTERN_LINEAR_1_SIZE2, e.wrapped, chamfer_1_of_pattern_linear_1_side_27[0].wrapped)  # the first distance lies on this face
    for e in chamfer_1_of_pattern_linear_1_edges_28:
        chamfer_1_of_pattern_linear_1.Add(CHAMFER_1_OF_PATTERN_LINEAR_1_SIZE, CHAMFER_1_OF_PATTERN_LINEAR_1_SIZE2, e.wrapped, chamfer_1_of_pattern_linear_1_side_28[0].wrapped)  # the first distance lies on this face
    for e in chamfer_1_of_pattern_linear_1_edges_29:
        chamfer_1_of_pattern_linear_1.Add(CHAMFER_1_OF_PATTERN_LINEAR_1_SIZE, CHAMFER_1_OF_PATTERN_LINEAR_1_SIZE2, e.wrapped, chamfer_1_of_pattern_linear_1_side_29[0].wrapped)  # the first distance lies on this face
    for e in chamfer_1_of_pattern_linear_1_edges_30:
        chamfer_1_of_pattern_linear_1.Add(CHAMFER_1_OF_PATTERN_LINEAR_1_SIZE, CHAMFER_1_OF_PATTERN_LINEAR_1_SIZE2, e.wrapped, chamfer_1_of_pattern_linear_1_side_30[0].wrapped)  # the first distance lies on this face
    for e in chamfer_1_of_pattern_linear_1_edges_31:
        chamfer_1_of_pattern_linear_1.Add(CHAMFER_1_OF_PATTERN_LINEAR_1_SIZE, CHAMFER_1_OF_PATTERN_LINEAR_1_SIZE2, e.wrapped, chamfer_1_of_pattern_linear_1_side_31[0].wrapped)  # the first distance lies on this face
    for e in chamfer_1_of_pattern_linear_1_edges_32:
        chamfer_1_of_pattern_linear_1.Add(CHAMFER_1_OF_PATTERN_LINEAR_1_SIZE, CHAMFER_1_OF_PATTERN_LINEAR_1_SIZE2, e.wrapped, chamfer_1_of_pattern_linear_1_side_32[0].wrapped)  # the first distance lies on this face
    for e in chamfer_1_of_pattern_linear_1_edges_33:
        chamfer_1_of_pattern_linear_1.Add(CHAMFER_1_OF_PATTERN_LINEAR_1_SIZE, CHAMFER_1_OF_PATTERN_LINEAR_1_SIZE2, e.wrapped, chamfer_1_of_pattern_linear_1_side_33[0].wrapped)  # the first distance lies on this face
    for e in chamfer_1_of_pattern_linear_1_edges_34:
        chamfer_1_of_pattern_linear_1.Add(CHAMFER_1_OF_PATTERN_LINEAR_1_SIZE, CHAMFER_1_OF_PATTERN_LINEAR_1_SIZE2, e.wrapped, chamfer_1_of_pattern_linear_1_side_34[0].wrapped)  # the first distance lies on this face
    for e in chamfer_1_of_pattern_linear_1_edges_35:
        chamfer_1_of_pattern_linear_1.Add(CHAMFER_1_OF_PATTERN_LINEAR_1_SIZE, CHAMFER_1_OF_PATTERN_LINEAR_1_SIZE2, e.wrapped, chamfer_1_of_pattern_linear_1_side_35[0].wrapped)  # the first distance lies on this face
    for e in chamfer_1_of_pattern_linear_1_edges_36:
        chamfer_1_of_pattern_linear_1.Add(CHAMFER_1_OF_PATTERN_LINEAR_1_SIZE, CHAMFER_1_OF_PATTERN_LINEAR_1_SIZE2, e.wrapped, chamfer_1_of_pattern_linear_1_side_36[0].wrapped)  # the first distance lies on this face
    add(Compound.cast(chamfer_1_of_pattern_linear_1.Shape()), mode=Mode.REPLACE)


solid = part.part
